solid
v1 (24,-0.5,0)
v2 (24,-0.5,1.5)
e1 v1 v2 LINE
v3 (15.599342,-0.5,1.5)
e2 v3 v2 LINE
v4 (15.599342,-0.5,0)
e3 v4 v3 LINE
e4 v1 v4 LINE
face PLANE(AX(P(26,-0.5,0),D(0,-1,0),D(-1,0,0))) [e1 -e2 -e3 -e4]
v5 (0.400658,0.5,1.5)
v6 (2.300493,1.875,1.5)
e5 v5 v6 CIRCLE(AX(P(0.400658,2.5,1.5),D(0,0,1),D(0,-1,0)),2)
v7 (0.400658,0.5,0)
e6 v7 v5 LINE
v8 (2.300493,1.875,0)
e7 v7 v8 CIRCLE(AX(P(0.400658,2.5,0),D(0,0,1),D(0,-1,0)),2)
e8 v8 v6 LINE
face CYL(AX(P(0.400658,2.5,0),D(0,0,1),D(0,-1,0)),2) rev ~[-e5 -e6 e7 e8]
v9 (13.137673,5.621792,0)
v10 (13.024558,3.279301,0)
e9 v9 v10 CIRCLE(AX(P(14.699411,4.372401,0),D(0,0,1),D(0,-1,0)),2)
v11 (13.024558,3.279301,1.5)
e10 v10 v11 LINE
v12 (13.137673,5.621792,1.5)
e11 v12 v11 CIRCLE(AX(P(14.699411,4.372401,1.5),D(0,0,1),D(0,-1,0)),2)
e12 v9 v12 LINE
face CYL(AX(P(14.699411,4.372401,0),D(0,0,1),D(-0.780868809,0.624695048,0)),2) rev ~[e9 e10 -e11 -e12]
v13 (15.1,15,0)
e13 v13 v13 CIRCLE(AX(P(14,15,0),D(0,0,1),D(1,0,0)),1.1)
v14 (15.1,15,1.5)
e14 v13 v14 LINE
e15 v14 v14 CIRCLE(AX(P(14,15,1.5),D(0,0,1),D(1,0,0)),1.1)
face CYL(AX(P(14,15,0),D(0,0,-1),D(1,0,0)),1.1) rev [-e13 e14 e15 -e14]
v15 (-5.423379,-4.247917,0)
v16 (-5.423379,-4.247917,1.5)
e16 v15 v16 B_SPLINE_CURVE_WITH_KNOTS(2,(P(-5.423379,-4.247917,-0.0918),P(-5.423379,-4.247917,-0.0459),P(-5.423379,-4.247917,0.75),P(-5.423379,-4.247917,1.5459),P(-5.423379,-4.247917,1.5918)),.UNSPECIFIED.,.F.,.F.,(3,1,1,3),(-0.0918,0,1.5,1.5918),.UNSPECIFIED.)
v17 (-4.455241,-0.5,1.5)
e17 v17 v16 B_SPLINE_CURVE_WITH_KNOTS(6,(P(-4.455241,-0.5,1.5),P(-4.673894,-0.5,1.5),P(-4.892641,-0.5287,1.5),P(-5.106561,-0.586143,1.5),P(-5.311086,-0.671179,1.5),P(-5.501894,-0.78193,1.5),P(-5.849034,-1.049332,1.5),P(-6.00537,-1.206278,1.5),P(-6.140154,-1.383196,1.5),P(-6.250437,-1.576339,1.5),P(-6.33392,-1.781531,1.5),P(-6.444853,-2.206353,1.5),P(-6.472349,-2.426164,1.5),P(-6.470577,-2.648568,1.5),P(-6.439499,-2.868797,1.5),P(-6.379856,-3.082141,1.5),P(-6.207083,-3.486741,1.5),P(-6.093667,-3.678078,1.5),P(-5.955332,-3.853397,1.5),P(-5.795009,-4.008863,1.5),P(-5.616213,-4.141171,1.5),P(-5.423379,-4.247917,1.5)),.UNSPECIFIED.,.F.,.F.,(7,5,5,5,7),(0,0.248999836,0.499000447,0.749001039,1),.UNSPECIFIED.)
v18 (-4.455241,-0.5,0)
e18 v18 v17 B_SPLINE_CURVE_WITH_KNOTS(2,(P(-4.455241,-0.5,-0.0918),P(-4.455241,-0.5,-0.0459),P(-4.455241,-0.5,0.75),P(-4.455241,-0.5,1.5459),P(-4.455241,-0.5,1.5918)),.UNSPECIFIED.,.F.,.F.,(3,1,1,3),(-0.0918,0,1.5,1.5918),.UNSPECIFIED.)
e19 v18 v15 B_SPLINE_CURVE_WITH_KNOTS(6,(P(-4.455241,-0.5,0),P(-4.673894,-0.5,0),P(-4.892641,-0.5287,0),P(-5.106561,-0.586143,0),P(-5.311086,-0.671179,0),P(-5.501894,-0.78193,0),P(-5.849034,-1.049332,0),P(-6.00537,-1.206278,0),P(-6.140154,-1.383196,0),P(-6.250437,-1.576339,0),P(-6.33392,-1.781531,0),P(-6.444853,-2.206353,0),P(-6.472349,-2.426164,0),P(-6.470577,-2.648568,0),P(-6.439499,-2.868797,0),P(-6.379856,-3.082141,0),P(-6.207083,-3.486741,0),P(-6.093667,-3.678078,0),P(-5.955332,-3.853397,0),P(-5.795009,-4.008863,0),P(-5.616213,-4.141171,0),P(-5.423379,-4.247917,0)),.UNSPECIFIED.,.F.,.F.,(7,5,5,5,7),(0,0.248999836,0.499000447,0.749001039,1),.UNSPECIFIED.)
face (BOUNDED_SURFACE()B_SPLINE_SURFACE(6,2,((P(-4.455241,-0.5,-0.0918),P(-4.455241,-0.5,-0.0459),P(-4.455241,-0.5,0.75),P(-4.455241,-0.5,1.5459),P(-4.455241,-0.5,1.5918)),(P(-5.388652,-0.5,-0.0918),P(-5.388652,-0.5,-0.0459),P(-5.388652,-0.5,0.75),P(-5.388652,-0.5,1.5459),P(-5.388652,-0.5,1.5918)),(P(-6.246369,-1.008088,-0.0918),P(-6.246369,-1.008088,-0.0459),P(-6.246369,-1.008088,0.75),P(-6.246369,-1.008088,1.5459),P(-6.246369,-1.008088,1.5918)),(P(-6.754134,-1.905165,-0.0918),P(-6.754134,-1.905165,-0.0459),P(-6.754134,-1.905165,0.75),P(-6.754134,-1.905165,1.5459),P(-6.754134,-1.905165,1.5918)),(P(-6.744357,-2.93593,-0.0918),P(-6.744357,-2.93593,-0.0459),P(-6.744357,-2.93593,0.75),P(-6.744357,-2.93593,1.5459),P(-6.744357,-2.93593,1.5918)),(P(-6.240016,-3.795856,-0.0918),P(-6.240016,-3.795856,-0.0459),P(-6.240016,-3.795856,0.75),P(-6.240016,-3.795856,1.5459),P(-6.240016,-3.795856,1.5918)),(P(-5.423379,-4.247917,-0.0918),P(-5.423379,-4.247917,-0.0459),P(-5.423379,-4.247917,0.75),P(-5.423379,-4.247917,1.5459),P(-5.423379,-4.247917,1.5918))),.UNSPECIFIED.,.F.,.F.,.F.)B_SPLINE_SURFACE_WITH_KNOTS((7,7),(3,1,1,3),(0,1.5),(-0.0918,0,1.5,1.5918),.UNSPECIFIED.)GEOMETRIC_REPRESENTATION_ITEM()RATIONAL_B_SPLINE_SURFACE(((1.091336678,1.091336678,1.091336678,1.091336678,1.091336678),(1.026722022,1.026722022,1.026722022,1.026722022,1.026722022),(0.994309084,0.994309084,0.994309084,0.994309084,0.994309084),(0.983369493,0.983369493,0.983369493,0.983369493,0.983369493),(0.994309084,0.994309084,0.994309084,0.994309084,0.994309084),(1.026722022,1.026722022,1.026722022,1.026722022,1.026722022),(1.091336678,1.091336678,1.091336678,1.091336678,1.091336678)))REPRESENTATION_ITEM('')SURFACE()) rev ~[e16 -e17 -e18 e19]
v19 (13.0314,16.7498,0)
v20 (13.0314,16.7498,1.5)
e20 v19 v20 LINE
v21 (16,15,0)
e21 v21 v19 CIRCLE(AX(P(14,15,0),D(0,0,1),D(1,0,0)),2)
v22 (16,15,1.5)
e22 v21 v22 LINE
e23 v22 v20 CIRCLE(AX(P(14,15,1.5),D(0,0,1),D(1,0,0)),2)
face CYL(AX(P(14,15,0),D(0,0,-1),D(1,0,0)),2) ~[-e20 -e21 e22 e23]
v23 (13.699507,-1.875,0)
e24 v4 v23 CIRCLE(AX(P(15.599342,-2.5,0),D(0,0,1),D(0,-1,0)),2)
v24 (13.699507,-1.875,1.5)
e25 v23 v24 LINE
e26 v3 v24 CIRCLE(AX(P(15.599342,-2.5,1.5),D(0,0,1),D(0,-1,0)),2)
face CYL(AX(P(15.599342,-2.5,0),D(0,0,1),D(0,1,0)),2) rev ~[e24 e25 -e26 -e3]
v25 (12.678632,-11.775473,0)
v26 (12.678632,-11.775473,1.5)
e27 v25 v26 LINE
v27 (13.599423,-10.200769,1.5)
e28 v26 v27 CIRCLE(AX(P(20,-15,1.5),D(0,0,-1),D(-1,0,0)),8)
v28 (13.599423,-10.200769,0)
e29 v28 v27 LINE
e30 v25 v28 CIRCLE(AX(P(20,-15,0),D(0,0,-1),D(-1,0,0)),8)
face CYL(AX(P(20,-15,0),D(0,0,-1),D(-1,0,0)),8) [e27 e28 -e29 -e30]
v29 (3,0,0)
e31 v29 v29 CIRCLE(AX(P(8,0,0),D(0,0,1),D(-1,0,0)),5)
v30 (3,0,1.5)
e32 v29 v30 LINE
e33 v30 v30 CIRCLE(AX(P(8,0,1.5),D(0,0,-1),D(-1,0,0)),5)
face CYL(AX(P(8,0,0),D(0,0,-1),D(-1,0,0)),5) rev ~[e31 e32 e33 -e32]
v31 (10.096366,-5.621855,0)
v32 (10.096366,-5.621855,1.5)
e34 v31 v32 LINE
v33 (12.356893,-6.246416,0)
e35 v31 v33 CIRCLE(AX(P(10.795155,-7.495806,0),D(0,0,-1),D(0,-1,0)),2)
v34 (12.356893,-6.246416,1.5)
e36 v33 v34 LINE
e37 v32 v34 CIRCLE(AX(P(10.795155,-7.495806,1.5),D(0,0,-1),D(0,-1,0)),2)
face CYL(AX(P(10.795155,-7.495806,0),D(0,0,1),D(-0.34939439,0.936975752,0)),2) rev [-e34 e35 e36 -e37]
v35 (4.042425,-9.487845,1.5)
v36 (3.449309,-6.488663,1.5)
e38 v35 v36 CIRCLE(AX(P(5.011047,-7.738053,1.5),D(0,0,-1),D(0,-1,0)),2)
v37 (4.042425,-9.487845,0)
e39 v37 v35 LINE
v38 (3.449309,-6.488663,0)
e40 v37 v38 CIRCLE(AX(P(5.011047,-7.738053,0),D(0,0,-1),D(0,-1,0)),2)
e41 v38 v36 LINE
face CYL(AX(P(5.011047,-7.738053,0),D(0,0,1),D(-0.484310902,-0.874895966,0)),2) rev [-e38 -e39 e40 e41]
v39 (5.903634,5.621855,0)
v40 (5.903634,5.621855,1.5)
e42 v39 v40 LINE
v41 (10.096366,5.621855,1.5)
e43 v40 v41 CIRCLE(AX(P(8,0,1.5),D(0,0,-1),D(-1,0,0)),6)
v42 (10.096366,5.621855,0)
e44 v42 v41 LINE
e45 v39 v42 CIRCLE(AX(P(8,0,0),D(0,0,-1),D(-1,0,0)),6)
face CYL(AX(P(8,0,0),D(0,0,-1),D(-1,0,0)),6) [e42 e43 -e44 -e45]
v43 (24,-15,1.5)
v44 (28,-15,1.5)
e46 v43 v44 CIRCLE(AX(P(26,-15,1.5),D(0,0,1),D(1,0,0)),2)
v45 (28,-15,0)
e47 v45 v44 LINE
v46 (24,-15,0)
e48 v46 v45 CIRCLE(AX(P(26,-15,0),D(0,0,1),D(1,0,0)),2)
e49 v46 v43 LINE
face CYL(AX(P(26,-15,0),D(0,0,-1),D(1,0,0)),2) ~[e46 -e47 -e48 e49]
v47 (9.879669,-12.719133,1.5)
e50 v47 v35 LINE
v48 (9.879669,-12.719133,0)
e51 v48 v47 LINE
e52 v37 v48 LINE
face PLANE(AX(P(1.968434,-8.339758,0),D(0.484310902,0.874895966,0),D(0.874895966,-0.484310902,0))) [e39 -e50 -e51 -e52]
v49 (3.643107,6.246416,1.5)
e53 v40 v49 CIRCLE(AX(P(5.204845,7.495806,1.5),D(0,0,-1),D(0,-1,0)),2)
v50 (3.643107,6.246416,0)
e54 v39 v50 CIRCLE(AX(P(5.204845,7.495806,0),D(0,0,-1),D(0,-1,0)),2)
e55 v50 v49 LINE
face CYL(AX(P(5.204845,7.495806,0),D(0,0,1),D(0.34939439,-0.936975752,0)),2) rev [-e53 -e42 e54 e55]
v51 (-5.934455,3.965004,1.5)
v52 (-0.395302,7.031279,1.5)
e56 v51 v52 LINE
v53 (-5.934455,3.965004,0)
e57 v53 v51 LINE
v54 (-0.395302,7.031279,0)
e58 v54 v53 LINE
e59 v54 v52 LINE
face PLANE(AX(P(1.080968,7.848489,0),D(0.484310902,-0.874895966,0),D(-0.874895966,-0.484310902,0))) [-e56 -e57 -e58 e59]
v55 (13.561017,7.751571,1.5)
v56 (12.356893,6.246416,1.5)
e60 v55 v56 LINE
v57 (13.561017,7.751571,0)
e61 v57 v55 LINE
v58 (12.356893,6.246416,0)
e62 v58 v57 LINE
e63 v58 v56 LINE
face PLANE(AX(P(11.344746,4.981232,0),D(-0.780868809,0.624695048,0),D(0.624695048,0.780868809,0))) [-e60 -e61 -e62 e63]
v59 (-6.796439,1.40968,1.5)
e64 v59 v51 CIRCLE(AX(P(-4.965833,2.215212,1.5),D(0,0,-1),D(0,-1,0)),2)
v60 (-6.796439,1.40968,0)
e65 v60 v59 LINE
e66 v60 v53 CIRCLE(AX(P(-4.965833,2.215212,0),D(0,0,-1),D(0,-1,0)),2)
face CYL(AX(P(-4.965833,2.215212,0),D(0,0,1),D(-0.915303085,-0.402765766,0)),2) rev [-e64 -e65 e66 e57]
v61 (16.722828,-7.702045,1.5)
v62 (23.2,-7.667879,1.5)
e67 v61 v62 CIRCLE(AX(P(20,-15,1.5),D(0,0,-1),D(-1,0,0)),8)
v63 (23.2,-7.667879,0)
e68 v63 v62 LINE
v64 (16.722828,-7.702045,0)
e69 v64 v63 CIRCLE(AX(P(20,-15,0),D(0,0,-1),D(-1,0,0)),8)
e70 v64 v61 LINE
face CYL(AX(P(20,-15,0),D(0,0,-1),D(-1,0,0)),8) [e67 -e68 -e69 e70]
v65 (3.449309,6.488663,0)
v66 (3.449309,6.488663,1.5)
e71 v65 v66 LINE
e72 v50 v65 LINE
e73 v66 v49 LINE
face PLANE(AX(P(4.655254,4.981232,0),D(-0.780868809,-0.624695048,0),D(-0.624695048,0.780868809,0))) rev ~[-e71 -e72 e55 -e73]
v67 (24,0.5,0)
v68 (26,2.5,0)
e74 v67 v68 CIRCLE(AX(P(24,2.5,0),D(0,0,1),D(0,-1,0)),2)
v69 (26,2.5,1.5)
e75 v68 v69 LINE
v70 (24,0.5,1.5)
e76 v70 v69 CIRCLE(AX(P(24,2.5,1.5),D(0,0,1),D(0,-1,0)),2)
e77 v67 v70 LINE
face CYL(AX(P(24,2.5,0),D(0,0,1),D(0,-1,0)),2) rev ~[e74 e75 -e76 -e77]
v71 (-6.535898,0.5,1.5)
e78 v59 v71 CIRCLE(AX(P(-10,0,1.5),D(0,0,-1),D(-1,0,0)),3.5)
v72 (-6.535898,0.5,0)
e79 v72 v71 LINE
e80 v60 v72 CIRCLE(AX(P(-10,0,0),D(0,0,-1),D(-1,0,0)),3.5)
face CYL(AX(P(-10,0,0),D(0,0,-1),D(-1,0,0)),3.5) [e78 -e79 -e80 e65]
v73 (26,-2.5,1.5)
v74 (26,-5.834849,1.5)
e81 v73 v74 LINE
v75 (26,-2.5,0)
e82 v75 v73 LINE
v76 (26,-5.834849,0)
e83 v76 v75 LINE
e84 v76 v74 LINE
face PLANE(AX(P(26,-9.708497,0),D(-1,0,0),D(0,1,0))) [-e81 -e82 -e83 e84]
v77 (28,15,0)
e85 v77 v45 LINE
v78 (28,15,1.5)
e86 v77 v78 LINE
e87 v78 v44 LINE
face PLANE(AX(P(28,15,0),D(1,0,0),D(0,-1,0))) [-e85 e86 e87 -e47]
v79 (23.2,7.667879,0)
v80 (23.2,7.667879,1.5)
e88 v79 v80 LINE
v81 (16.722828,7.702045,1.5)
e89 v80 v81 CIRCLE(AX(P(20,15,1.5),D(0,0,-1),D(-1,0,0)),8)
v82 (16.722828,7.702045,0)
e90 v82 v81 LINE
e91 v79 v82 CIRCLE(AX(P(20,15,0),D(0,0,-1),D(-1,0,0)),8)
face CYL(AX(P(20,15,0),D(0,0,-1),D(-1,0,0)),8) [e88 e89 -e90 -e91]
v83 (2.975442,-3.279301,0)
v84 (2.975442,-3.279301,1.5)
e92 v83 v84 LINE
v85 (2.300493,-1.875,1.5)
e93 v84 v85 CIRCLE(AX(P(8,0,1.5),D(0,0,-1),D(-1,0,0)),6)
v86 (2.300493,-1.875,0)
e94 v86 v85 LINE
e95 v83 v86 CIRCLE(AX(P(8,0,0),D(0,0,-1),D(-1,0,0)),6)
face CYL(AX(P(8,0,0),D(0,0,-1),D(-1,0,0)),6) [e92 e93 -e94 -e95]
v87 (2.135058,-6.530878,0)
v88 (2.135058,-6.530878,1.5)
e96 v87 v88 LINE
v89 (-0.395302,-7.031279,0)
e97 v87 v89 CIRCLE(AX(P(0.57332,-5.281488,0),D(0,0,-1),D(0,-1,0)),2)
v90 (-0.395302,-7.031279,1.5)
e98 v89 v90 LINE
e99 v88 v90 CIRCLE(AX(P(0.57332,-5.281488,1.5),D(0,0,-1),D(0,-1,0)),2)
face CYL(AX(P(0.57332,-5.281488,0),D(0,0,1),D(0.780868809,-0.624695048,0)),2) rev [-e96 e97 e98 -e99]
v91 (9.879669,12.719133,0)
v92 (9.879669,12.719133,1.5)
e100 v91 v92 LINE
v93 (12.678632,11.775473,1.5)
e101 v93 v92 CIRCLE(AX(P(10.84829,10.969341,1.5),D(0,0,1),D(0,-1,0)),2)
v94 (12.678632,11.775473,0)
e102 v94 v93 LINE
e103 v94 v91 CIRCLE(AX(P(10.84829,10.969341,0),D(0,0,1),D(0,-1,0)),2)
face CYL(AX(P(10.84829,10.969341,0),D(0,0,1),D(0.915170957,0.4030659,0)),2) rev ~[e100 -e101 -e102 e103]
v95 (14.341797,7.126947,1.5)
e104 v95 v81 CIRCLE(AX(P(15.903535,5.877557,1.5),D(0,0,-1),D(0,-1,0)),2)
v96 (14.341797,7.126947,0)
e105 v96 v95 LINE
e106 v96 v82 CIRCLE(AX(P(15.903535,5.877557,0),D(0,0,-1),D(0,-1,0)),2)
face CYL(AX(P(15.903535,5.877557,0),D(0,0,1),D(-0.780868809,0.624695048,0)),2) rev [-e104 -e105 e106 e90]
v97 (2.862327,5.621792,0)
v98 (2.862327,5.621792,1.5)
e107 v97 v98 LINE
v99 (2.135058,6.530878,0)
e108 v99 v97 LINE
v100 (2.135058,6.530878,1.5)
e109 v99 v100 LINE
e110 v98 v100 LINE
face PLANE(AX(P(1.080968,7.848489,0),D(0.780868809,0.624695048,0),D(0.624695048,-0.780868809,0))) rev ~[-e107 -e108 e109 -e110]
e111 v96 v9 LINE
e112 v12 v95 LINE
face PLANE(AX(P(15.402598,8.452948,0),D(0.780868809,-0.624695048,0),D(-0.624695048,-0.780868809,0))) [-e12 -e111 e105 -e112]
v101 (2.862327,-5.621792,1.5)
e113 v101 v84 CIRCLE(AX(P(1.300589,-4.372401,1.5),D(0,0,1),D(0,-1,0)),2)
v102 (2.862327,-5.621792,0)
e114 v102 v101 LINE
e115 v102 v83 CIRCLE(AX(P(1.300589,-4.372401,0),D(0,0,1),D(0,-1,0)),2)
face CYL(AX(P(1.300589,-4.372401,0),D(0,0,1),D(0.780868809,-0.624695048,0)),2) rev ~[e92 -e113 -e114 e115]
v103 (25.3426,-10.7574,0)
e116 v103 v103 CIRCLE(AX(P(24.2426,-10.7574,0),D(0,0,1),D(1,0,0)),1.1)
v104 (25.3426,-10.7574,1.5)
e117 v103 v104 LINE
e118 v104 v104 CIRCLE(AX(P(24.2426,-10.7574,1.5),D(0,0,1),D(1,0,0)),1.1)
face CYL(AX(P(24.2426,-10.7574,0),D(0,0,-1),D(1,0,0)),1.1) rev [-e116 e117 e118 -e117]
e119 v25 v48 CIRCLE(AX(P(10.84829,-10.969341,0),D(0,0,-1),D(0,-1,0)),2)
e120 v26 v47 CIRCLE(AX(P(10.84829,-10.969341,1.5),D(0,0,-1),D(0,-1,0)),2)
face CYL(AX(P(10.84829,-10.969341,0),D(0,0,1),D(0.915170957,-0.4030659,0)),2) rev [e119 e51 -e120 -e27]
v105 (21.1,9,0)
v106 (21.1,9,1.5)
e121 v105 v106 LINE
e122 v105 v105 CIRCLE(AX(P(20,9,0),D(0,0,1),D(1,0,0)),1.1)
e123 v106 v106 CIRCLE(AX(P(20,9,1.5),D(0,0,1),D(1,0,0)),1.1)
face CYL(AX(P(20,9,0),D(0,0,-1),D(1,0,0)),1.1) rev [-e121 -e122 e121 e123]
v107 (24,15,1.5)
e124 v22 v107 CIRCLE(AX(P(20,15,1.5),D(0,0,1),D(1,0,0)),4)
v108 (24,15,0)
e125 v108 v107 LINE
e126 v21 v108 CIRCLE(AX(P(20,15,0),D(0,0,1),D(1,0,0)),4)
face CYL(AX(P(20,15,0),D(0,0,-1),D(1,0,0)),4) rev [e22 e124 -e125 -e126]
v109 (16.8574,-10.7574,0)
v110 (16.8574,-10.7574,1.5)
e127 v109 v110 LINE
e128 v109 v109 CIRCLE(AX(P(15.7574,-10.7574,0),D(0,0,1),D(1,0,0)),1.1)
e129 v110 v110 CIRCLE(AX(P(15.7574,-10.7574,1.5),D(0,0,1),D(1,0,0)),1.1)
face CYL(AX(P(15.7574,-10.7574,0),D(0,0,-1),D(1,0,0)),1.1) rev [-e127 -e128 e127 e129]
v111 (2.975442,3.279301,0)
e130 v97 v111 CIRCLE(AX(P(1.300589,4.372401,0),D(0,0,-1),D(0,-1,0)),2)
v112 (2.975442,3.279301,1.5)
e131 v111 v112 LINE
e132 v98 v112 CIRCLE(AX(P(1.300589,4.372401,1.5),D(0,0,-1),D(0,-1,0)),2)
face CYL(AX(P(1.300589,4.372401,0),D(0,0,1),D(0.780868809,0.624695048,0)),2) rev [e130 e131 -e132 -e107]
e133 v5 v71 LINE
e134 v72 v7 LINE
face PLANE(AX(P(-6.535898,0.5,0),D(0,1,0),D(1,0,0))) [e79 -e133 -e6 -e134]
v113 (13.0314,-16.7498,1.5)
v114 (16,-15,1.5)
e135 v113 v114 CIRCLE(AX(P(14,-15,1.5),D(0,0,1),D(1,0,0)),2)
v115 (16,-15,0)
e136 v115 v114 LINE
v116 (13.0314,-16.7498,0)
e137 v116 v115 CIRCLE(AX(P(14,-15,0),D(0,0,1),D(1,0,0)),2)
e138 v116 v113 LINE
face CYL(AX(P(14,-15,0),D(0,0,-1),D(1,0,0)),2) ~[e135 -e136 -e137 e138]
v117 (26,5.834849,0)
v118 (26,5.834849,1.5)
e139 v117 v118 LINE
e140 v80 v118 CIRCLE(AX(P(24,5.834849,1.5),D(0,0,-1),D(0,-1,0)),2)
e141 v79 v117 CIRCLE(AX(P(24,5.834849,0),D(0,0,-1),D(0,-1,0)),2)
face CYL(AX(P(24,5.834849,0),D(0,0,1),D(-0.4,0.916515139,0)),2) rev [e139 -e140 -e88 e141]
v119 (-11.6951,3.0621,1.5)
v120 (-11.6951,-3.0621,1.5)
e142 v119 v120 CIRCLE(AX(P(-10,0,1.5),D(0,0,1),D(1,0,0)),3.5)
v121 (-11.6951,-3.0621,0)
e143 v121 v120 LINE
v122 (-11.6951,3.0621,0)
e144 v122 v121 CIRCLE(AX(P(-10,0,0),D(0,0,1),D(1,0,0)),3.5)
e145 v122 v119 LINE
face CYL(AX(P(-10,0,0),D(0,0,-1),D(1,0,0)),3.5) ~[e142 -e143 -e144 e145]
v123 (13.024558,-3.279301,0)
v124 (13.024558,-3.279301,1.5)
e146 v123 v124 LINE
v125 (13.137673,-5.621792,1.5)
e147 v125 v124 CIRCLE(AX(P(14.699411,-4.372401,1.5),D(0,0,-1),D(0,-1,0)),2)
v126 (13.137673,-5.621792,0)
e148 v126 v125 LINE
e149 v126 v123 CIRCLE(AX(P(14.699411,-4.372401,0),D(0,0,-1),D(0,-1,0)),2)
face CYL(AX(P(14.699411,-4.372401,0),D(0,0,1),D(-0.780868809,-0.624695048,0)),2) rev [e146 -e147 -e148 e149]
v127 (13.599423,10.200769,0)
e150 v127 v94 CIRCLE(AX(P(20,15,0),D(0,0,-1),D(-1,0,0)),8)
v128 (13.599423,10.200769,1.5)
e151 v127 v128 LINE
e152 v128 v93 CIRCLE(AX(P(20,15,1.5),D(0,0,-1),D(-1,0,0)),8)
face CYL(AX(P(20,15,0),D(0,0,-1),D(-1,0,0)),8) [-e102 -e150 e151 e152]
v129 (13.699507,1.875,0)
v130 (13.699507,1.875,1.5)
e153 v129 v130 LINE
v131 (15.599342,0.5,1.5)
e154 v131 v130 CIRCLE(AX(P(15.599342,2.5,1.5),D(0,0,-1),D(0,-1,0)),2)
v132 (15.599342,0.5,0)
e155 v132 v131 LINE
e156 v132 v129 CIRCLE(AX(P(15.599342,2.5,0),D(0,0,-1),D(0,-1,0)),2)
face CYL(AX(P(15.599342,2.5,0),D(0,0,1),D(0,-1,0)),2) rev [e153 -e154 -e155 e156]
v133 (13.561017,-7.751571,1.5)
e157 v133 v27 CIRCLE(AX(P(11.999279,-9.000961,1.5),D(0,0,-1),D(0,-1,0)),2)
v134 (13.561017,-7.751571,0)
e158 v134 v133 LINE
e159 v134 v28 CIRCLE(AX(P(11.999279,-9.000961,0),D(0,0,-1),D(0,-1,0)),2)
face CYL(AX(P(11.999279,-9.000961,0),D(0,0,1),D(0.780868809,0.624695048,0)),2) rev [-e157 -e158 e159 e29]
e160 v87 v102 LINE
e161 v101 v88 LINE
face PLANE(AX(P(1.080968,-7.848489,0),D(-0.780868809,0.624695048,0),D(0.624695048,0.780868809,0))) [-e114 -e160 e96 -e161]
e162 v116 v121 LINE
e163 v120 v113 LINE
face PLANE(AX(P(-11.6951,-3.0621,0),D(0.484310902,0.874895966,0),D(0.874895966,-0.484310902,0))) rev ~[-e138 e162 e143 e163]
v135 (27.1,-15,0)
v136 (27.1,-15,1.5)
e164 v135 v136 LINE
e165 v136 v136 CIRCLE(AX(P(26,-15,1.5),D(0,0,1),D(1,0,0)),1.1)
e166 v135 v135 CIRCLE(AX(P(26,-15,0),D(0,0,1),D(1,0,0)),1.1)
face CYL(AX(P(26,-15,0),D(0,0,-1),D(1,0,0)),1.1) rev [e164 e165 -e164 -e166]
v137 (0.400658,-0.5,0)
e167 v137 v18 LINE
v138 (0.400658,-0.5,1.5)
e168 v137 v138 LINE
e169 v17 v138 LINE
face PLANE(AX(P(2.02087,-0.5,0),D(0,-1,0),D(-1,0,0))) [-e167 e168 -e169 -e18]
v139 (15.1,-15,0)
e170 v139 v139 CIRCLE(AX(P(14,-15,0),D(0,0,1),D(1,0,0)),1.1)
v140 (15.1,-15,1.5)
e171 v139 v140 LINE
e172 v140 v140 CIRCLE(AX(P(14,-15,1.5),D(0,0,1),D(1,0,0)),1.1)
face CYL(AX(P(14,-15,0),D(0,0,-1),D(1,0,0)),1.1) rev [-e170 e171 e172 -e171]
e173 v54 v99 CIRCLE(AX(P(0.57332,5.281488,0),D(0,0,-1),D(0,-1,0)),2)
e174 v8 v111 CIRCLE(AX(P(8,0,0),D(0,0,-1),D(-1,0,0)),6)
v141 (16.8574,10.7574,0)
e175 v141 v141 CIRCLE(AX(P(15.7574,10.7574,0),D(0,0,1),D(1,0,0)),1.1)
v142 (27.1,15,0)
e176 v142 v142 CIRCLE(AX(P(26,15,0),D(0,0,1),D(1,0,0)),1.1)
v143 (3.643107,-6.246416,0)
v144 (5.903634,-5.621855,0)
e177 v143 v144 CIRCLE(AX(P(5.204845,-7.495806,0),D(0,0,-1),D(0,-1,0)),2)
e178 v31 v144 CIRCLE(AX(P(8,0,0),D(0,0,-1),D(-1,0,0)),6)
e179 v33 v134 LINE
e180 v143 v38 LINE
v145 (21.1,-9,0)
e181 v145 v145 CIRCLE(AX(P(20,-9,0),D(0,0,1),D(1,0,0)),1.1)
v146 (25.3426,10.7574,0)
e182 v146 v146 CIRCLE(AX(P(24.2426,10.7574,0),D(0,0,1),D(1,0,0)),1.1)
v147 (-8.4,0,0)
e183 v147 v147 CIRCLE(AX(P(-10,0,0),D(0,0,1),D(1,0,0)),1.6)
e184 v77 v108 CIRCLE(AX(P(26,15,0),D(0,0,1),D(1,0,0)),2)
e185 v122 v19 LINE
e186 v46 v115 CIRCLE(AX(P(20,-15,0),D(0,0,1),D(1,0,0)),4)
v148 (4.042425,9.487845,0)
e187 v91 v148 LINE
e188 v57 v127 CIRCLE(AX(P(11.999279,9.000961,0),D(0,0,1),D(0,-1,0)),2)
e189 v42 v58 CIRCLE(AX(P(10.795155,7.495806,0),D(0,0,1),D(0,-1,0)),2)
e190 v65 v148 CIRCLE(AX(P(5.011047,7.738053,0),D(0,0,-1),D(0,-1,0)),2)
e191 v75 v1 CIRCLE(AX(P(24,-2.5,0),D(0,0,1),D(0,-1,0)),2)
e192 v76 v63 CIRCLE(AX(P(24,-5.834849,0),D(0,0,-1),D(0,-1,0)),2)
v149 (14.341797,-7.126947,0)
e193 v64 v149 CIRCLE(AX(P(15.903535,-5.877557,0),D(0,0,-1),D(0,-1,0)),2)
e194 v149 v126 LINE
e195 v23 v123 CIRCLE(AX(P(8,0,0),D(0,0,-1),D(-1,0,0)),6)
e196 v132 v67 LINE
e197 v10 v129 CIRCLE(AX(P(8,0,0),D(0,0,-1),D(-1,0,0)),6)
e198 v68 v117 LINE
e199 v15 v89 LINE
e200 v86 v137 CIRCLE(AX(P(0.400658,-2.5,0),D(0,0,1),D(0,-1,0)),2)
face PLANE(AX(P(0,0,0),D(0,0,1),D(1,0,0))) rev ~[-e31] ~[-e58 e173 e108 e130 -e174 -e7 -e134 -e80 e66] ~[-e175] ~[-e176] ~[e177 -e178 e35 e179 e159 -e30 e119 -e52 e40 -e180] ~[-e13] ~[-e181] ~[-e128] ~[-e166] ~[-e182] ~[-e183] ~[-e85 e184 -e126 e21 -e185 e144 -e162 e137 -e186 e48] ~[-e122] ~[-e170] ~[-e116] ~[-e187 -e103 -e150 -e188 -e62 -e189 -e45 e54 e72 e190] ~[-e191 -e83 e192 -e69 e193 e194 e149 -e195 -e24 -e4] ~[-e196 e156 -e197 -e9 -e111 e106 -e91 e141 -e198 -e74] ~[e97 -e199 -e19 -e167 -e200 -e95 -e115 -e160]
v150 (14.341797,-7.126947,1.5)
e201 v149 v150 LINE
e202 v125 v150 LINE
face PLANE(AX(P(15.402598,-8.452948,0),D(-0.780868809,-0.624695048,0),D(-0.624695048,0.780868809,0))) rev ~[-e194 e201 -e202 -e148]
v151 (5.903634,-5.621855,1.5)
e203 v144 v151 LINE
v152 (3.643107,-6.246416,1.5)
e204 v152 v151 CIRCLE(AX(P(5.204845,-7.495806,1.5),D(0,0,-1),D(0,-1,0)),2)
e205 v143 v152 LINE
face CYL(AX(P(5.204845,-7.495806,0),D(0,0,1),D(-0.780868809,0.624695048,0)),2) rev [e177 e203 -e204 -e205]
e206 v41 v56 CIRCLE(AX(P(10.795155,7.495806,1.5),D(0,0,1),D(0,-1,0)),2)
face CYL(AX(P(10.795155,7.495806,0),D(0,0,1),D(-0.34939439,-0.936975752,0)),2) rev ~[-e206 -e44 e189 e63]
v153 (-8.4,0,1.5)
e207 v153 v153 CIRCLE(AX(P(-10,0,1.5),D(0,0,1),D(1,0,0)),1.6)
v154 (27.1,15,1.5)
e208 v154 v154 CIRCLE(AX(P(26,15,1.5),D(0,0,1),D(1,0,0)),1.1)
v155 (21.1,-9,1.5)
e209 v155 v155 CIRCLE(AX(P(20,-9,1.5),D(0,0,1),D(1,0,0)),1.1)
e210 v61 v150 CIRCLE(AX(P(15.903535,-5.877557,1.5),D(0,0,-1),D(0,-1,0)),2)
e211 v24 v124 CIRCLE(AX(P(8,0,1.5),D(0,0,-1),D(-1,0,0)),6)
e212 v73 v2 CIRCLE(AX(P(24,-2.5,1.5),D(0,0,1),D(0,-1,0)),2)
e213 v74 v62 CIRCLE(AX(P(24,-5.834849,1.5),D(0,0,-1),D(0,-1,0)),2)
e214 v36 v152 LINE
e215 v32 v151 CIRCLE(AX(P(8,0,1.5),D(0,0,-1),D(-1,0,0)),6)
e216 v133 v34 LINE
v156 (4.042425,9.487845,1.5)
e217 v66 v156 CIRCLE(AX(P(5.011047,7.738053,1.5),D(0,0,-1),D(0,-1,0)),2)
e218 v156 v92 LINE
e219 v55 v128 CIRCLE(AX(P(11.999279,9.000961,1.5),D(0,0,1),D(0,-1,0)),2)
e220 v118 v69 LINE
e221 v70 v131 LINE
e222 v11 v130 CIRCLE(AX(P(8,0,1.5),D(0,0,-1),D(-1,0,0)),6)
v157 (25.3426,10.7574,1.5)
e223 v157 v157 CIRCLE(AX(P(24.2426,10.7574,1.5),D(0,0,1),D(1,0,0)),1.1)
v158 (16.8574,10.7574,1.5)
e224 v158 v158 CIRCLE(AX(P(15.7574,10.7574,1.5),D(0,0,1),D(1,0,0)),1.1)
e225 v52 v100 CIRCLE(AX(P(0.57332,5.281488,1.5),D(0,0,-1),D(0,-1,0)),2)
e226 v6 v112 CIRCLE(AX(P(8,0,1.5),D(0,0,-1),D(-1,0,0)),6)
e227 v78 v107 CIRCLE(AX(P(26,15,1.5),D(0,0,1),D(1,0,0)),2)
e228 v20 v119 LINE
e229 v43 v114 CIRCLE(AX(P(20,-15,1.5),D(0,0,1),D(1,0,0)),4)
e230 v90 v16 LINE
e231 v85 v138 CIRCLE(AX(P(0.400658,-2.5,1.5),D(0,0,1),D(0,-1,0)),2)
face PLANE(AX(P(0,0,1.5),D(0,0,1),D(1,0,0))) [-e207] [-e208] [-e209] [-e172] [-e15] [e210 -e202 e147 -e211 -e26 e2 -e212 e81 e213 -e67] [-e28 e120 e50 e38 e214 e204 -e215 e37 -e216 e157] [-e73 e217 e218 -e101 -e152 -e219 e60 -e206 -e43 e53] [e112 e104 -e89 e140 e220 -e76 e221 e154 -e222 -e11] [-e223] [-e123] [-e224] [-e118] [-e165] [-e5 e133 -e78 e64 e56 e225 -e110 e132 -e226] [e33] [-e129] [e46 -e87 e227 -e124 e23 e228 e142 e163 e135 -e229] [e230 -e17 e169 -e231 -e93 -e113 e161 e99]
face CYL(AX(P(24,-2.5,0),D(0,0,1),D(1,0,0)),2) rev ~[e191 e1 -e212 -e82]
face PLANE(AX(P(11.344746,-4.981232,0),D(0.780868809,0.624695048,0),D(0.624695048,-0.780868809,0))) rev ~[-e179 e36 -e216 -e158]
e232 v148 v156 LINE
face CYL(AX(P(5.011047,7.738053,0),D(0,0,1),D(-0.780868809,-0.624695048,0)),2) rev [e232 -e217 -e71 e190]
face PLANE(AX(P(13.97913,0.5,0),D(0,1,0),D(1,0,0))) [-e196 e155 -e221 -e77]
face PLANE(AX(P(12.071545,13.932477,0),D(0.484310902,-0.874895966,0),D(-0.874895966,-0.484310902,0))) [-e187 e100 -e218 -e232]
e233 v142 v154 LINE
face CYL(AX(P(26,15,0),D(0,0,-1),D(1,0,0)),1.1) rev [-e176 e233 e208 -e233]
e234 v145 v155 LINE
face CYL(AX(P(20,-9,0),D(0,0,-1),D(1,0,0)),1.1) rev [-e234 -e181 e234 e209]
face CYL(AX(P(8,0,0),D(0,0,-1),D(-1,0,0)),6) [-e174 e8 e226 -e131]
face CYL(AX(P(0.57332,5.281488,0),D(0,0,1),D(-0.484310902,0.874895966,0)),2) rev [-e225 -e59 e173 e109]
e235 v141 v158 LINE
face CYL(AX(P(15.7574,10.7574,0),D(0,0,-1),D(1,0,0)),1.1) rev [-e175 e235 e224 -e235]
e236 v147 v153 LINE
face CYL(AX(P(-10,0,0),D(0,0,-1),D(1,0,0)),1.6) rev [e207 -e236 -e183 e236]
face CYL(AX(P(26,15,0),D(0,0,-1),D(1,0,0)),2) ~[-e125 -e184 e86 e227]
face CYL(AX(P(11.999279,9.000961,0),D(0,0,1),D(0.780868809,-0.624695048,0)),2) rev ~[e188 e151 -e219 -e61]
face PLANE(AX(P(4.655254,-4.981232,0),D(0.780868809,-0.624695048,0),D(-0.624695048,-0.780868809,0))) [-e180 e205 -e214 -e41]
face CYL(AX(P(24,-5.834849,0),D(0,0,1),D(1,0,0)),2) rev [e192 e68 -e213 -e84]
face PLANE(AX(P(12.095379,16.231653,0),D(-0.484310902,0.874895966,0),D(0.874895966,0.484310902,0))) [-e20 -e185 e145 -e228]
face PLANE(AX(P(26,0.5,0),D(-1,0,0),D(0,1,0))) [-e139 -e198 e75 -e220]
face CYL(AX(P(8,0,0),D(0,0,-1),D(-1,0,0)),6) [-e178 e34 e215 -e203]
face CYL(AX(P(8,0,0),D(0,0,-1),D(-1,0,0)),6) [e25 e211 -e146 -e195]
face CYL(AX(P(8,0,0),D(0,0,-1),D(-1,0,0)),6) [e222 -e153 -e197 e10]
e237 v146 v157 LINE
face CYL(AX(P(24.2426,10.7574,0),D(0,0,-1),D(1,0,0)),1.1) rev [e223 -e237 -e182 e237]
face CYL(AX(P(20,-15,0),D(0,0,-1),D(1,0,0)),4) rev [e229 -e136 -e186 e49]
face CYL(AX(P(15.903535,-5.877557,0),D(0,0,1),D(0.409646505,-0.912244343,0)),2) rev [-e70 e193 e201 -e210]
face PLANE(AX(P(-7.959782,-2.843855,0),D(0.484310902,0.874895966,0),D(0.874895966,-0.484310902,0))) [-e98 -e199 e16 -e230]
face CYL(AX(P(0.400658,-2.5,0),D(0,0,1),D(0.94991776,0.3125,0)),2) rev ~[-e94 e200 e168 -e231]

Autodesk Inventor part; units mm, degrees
ref_plane "YZ Plane" through (0, 0, 0) normal (1, 0, 0) x (0, 1, 0)
ref_plane "XZ Plane" through (0, 0, 0) normal (0, 1, 0) x (-1, 0, 0)
ref_plane "XY Plane" through (0, 0, 0) normal (0, 0, 1) x (1, 0, 0)
sketch "スケッチ1" plane through (0, 0, 0) normal (0, 0, 1) x (1, 0, 0)
  line L0 (5.096, 0) -> (-5.096, 0) construction
  circle A0 centre (20, 15) radius 4
  circle A1 centre (20, 15) radius 8
  circle A2 centre (20, 15) radius 6 construction
  circle A3 centre (20, 21) radius 1.1
  circle A4 centre (15.7574, 19.2426) radius 1.1
  circle A5 centre (14, 15) radius 1.1
  circle A6 centre (15.7574, 10.7574) radius 1.1
  circle A7 centre (20, 9) radius 1.1
  circle A8 centre (24.2426, 10.7574) radius 1.1
  circle A9 centre (26, 15) radius 1.1
  circle A10 centre (24.2426, 19.2426) radius 1.1
  circle A11 centre (-10, 0) radius 1.6
  circle A12 centre (20, -15) radius 4
  circle A13 centre (20, -15) radius 8
  circle A14 centre (20, -15) radius 6 construction
  circle A15 centre (20, -21) radius 1.1
  circle A16 centre (15.7574, -19.2426) radius 1.1
  circle A17 centre (14, -15) radius 1.1
  circle A18 centre (15.7574, -10.7574) radius 1.1
  circle A19 centre (20, -9) radius 1.1
  circle A20 centre (24.2426, -10.7574) radius 1.1
  circle A21 centre (26, -15) radius 1.1
  circle A22 centre (24.2426, -19.2426) radius 1.1
  circle A23 centre (-10, 0) radius 1.6
  circle A24 centre (-10, 0) radius 3.5
  circle A25 centre (-10, 0) radius 3.5
  line L1 (-11.6951, 3.0621) -> (13.0314, 16.7498)
  line L2 (28, 15) -> (28, -15)
  circle A26 centre (14, 15) radius 2
  circle A27 centre (26, 15) radius 2
  line L3 (-11.6951, -3.0621) -> (13.0314, -16.7498)
  circle A28 centre (14, -15) radius 2
  circle A29 centre (26, -15) radius 2
  line L4 (-13.5, 0) -> (-13.5, 0)
  point P0 (0, 0)
  point P1 (0, 0)
  point P2 (12.0954, 16.2317)
  point P3 (12.0954, -16.2317)
  point P4 (28, -15)
  point P5 (28, 15)
  point P6 (24, 15)
  point P7 (16, 15)
  point P8 (-11.6951, -3.0621)
  point P9 (12.0954, -16.2317)
  point P10 (12, -15)
  point P11 (16, -15)
  point P12 (24, -15)
  dimension "d2" = 12
  dimension "d0" = 8
  dimension "d1" = 16
  dimension "d3" = 2.2
  dimension "d6" = 360
  dimension "d9" = 3.2
  dimension "d10" = 30
  dimension "d11" = 15
  dimension "d12" = 20
  dimension "d13" = 7
extrude "押し出し1" add sketch "スケッチ1" along normal blind 1.5 contours A27 A1 A26 A0 | A27 | A26 | L2 A13 L3 A24 L1 A1 | A26 A1 L1 | A29 A12 A28 A13 | A29 | A24 | A28 L3 A13 | A28
sketch "スケッチ3" plane through (0, 0, 0) normal (0, 0, -1) x (-1, 0, 0)
  arc A0 (-24, 15) -> (-28, 15) centre (-26, 15) ccw projected
  line L0 (-28, -15) -> (-28, 15) projected
  arc A1 (-28, -15) -> (-24, -15) centre (-26, -15) ccw projected
  arc A2 (-16, -15) -> (-24, -15) centre (-20, -15) ccw projected
  arc A3 (-16, -15) -> (-13.0314, -16.7498) centre (-14, -15) ccw projected
  line L1 (11.6951, -3.0621) -> (-13.0314, -16.7498) projected
  arc A4 (11.6951, -3.0621) -> (11.6951, 3.0621) centre (10, 0) ccw projected
  line L2 (-13.0314, 16.7498) -> (11.6951, 3.0621) projected
  arc A5 (-13.0314, 16.7498) -> (-16, 15) centre (-14, 15) ccw projected
  arc A6 (-24, 15) -> (-16, 15) centre (-20, 15) ccw projected
  circle A7 centre (-14, 15) radius 1.1 projected
  circle A8 centre (-26, 15) radius 1.1 projected
  circle A9 centre (-14, -15) radius 1.1 projected
  circle A10 centre (-26, -15) radius 1.1 projected
  circle A11 centre (-24.2426, -10.7574) radius 1.1 projected
  circle A12 centre (-20, -9) radius 1.1 projected
  circle A13 centre (-15.7574, -10.7574) radius 1.1 projected
  circle A14 centre (10, 0) radius 1.6 projected
  circle A15 centre (-24.2426, 10.7574) radius 1.1 projected
  circle A16 centre (-20, 9) radius 1.1 projected
  circle A17 centre (-15.7574, 10.7574) radius 1.1 projected
  circle A18 centre (-20, 15) radius 8
  circle A19 centre (-20, -15) radius 8
  circle A20 centre (10, 0) radius 3.5
  arc A21 (10.7265, -1.3123) -> (10.7265, 1.3123) centre (10, 0) ccw
  line L3 (10.7265, -1.3123) -> (-14, -15)
  arc A22 (-14, -15) -> (-26, -15) centre (-20, -15) ccw
  line L4 (-26, -15) -> (-26, 15)
  arc A23 (-26, 15) -> (-14, 15) centre (-20, 15) ccw
  line L5 (-14, 15) -> (10.7265, 1.3123)
  line L6 (-26, 0) -> (10, 0) construction
  circle A24 centre (-8, 0) radius 5
  circle A25 centre (-8, 0) radius 6
  line L7 (-26, -0.5) -> (10, -0.5)
  line L8 (10, -0.5) -> (10, 0.5)
  line L9 (10, 0.5) -> (-26, 0.5)
  line L10 (-26, 0.5) -> (-26, -0.5)
  line L11 (-26, -0.5) -> (10, 0.5) construction
  line L12 (10, -0.5) -> (-26, 0.5) construction
  line L13 (4.3904, 14.6877) -> (-19.6096, -15.3123)
  line L14 (-19.6096, -15.3123) -> (-20.3904, -14.6877)
  line L15 (-20.3904, -14.6877) -> (3.6096, 15.3123)
  line L16 (3.6096, 15.3123) -> (4.3904, 14.6877)
  line L17 (4.3904, 14.6877) -> (-20.3904, -14.6877) construction
  line L18 (-19.6096, -15.3123) -> (3.6096, 15.3123) construction
  line L19 (4.3904, -14.6877) -> (-19.6096, 15.3123)
  line L20 (-20.3904, 14.6877) -> (3.6096, -15.3123)
  point P0 (0, 0)
  point P1 (-3.8744, -4.3566)
  point P2 (-1.0809, -7.8485)
  point P3 (7.9598, -2.8439)
  point P4 (6.5359, -0.5)
  point P5 (-2.0209, -0.5)
  point P6 (-14.6218, 9.0776)
  point P7 (-11.3447, 4.9813)
  point P8 (-4.6553, 4.9813)
  point P9 (-1.9685, 8.3398)
  point P10 (-12.0715, 13.9325)
  point P11 (-1.0809, 7.8485)
  point P12 (-3.8744, 4.3566)
  point P13 (-2.0209, 0.5)
  point P14 (6.5359, 0.5)
  point P15 (7.9598, 2.8439)
  point P16 (-1.9685, -8.3398)
  point P17 (-4.6553, -4.9813)
  point P18 (-11.3447, -4.9813)
  point P19 (-14.6218, -9.0776)
  point P20 (-12.0715, -13.9325)
  point P21 (-15.4026, -8.4529)
  point P22 (-12.1256, -4.3566)
  point P23 (-13.9791, -0.5)
  point P24 (-26, -9.7085)
  point P25 (-12.1256, 4.3566)
  point P26 (-15.4026, 8.4529)
  point P27 (-26, 9.7085)
  point P28 (-13.9791, 0.5)
  dimension "d27" = 2
  dimension "d28" = 10
  dimension "d29" = 12
  dimension "d30" = 1
  dimension "d31" = 1
extrude "押し出し3" cut sketch "スケッチ3" against normal through all contours A18 L20 A25 L9 L4 | L4 L7 A25 L15 A19 | L15 A25 L19 A18 L5 | L13 A25 L20 L3 A19 | L5 A20 L9 A25 L13 | L20 L9 A24 | A24 L19 L15 L9 L20 | L9 L20 L15 L7 A24 | L15 L7 L20 L13 A24 | A24 L7 L15 | L19 A25 L7 A20 L3 | L15 L19 A24 | A24 L13 L9 L19 L15 | L9 L15 L20 | L13 L20 A24 | L15 L20 L7 | L20 L13 L7 L19 A24 | A24 L9 L13 | L19 L9 L15 | L9 L19 L13 L7 L20 L15 | L20 L7 L13 | L19 L7 A24 | A24 L7 L19 L13 L9 | L13 L19 L9 | L13 L19 L7
fillet "フィレット2" radius 2 29 edges at (26, -0.5, 0.75) (26, 0.5, 0.75) (13.9791, -0.5, 0.75) (13.9791, 0.5, 0.75) (26, -9.7085, 0.75) (15.4026, -8.4529, 0.75) (12.1256, -4.3566, 0.75) (11.3447, -4.9813, 0.75) (14.6218, -9.0776, 0.75) (12.0715, -13.9325, 0.75) (1.9685, -8.3398, 0.75) (1.0809, -7.8485, 0.75) (4.6553, -4.9813, 0.75) (3.8744, -4.3566, 0.75) (2.0209, -0.5, 0.75) (2.0209, 0.5, 0.75) (-6.5359, -0.5, 0.75) (-7.9598, -2.8439, 0.75) (-7.9598, 2.8439, 0.75) (1.0809, 7.8485, 0.75) (3.8744, 4.3566, 0.75) (4.6553, 4.9813, 0.75) (1.9685, 8.3398, 0.75) (11.3447, 4.9813, 0.75) (14.6218, 9.0776, 0.75) (15.4026, 8.4529, 0.75) (12.1256, 4.3566, 0.75) (26, 9.7085, 0.75) (12.0715, 13.9325, 0.75)
properties part number "hiza" material "アルミニウム 2014-T4"
